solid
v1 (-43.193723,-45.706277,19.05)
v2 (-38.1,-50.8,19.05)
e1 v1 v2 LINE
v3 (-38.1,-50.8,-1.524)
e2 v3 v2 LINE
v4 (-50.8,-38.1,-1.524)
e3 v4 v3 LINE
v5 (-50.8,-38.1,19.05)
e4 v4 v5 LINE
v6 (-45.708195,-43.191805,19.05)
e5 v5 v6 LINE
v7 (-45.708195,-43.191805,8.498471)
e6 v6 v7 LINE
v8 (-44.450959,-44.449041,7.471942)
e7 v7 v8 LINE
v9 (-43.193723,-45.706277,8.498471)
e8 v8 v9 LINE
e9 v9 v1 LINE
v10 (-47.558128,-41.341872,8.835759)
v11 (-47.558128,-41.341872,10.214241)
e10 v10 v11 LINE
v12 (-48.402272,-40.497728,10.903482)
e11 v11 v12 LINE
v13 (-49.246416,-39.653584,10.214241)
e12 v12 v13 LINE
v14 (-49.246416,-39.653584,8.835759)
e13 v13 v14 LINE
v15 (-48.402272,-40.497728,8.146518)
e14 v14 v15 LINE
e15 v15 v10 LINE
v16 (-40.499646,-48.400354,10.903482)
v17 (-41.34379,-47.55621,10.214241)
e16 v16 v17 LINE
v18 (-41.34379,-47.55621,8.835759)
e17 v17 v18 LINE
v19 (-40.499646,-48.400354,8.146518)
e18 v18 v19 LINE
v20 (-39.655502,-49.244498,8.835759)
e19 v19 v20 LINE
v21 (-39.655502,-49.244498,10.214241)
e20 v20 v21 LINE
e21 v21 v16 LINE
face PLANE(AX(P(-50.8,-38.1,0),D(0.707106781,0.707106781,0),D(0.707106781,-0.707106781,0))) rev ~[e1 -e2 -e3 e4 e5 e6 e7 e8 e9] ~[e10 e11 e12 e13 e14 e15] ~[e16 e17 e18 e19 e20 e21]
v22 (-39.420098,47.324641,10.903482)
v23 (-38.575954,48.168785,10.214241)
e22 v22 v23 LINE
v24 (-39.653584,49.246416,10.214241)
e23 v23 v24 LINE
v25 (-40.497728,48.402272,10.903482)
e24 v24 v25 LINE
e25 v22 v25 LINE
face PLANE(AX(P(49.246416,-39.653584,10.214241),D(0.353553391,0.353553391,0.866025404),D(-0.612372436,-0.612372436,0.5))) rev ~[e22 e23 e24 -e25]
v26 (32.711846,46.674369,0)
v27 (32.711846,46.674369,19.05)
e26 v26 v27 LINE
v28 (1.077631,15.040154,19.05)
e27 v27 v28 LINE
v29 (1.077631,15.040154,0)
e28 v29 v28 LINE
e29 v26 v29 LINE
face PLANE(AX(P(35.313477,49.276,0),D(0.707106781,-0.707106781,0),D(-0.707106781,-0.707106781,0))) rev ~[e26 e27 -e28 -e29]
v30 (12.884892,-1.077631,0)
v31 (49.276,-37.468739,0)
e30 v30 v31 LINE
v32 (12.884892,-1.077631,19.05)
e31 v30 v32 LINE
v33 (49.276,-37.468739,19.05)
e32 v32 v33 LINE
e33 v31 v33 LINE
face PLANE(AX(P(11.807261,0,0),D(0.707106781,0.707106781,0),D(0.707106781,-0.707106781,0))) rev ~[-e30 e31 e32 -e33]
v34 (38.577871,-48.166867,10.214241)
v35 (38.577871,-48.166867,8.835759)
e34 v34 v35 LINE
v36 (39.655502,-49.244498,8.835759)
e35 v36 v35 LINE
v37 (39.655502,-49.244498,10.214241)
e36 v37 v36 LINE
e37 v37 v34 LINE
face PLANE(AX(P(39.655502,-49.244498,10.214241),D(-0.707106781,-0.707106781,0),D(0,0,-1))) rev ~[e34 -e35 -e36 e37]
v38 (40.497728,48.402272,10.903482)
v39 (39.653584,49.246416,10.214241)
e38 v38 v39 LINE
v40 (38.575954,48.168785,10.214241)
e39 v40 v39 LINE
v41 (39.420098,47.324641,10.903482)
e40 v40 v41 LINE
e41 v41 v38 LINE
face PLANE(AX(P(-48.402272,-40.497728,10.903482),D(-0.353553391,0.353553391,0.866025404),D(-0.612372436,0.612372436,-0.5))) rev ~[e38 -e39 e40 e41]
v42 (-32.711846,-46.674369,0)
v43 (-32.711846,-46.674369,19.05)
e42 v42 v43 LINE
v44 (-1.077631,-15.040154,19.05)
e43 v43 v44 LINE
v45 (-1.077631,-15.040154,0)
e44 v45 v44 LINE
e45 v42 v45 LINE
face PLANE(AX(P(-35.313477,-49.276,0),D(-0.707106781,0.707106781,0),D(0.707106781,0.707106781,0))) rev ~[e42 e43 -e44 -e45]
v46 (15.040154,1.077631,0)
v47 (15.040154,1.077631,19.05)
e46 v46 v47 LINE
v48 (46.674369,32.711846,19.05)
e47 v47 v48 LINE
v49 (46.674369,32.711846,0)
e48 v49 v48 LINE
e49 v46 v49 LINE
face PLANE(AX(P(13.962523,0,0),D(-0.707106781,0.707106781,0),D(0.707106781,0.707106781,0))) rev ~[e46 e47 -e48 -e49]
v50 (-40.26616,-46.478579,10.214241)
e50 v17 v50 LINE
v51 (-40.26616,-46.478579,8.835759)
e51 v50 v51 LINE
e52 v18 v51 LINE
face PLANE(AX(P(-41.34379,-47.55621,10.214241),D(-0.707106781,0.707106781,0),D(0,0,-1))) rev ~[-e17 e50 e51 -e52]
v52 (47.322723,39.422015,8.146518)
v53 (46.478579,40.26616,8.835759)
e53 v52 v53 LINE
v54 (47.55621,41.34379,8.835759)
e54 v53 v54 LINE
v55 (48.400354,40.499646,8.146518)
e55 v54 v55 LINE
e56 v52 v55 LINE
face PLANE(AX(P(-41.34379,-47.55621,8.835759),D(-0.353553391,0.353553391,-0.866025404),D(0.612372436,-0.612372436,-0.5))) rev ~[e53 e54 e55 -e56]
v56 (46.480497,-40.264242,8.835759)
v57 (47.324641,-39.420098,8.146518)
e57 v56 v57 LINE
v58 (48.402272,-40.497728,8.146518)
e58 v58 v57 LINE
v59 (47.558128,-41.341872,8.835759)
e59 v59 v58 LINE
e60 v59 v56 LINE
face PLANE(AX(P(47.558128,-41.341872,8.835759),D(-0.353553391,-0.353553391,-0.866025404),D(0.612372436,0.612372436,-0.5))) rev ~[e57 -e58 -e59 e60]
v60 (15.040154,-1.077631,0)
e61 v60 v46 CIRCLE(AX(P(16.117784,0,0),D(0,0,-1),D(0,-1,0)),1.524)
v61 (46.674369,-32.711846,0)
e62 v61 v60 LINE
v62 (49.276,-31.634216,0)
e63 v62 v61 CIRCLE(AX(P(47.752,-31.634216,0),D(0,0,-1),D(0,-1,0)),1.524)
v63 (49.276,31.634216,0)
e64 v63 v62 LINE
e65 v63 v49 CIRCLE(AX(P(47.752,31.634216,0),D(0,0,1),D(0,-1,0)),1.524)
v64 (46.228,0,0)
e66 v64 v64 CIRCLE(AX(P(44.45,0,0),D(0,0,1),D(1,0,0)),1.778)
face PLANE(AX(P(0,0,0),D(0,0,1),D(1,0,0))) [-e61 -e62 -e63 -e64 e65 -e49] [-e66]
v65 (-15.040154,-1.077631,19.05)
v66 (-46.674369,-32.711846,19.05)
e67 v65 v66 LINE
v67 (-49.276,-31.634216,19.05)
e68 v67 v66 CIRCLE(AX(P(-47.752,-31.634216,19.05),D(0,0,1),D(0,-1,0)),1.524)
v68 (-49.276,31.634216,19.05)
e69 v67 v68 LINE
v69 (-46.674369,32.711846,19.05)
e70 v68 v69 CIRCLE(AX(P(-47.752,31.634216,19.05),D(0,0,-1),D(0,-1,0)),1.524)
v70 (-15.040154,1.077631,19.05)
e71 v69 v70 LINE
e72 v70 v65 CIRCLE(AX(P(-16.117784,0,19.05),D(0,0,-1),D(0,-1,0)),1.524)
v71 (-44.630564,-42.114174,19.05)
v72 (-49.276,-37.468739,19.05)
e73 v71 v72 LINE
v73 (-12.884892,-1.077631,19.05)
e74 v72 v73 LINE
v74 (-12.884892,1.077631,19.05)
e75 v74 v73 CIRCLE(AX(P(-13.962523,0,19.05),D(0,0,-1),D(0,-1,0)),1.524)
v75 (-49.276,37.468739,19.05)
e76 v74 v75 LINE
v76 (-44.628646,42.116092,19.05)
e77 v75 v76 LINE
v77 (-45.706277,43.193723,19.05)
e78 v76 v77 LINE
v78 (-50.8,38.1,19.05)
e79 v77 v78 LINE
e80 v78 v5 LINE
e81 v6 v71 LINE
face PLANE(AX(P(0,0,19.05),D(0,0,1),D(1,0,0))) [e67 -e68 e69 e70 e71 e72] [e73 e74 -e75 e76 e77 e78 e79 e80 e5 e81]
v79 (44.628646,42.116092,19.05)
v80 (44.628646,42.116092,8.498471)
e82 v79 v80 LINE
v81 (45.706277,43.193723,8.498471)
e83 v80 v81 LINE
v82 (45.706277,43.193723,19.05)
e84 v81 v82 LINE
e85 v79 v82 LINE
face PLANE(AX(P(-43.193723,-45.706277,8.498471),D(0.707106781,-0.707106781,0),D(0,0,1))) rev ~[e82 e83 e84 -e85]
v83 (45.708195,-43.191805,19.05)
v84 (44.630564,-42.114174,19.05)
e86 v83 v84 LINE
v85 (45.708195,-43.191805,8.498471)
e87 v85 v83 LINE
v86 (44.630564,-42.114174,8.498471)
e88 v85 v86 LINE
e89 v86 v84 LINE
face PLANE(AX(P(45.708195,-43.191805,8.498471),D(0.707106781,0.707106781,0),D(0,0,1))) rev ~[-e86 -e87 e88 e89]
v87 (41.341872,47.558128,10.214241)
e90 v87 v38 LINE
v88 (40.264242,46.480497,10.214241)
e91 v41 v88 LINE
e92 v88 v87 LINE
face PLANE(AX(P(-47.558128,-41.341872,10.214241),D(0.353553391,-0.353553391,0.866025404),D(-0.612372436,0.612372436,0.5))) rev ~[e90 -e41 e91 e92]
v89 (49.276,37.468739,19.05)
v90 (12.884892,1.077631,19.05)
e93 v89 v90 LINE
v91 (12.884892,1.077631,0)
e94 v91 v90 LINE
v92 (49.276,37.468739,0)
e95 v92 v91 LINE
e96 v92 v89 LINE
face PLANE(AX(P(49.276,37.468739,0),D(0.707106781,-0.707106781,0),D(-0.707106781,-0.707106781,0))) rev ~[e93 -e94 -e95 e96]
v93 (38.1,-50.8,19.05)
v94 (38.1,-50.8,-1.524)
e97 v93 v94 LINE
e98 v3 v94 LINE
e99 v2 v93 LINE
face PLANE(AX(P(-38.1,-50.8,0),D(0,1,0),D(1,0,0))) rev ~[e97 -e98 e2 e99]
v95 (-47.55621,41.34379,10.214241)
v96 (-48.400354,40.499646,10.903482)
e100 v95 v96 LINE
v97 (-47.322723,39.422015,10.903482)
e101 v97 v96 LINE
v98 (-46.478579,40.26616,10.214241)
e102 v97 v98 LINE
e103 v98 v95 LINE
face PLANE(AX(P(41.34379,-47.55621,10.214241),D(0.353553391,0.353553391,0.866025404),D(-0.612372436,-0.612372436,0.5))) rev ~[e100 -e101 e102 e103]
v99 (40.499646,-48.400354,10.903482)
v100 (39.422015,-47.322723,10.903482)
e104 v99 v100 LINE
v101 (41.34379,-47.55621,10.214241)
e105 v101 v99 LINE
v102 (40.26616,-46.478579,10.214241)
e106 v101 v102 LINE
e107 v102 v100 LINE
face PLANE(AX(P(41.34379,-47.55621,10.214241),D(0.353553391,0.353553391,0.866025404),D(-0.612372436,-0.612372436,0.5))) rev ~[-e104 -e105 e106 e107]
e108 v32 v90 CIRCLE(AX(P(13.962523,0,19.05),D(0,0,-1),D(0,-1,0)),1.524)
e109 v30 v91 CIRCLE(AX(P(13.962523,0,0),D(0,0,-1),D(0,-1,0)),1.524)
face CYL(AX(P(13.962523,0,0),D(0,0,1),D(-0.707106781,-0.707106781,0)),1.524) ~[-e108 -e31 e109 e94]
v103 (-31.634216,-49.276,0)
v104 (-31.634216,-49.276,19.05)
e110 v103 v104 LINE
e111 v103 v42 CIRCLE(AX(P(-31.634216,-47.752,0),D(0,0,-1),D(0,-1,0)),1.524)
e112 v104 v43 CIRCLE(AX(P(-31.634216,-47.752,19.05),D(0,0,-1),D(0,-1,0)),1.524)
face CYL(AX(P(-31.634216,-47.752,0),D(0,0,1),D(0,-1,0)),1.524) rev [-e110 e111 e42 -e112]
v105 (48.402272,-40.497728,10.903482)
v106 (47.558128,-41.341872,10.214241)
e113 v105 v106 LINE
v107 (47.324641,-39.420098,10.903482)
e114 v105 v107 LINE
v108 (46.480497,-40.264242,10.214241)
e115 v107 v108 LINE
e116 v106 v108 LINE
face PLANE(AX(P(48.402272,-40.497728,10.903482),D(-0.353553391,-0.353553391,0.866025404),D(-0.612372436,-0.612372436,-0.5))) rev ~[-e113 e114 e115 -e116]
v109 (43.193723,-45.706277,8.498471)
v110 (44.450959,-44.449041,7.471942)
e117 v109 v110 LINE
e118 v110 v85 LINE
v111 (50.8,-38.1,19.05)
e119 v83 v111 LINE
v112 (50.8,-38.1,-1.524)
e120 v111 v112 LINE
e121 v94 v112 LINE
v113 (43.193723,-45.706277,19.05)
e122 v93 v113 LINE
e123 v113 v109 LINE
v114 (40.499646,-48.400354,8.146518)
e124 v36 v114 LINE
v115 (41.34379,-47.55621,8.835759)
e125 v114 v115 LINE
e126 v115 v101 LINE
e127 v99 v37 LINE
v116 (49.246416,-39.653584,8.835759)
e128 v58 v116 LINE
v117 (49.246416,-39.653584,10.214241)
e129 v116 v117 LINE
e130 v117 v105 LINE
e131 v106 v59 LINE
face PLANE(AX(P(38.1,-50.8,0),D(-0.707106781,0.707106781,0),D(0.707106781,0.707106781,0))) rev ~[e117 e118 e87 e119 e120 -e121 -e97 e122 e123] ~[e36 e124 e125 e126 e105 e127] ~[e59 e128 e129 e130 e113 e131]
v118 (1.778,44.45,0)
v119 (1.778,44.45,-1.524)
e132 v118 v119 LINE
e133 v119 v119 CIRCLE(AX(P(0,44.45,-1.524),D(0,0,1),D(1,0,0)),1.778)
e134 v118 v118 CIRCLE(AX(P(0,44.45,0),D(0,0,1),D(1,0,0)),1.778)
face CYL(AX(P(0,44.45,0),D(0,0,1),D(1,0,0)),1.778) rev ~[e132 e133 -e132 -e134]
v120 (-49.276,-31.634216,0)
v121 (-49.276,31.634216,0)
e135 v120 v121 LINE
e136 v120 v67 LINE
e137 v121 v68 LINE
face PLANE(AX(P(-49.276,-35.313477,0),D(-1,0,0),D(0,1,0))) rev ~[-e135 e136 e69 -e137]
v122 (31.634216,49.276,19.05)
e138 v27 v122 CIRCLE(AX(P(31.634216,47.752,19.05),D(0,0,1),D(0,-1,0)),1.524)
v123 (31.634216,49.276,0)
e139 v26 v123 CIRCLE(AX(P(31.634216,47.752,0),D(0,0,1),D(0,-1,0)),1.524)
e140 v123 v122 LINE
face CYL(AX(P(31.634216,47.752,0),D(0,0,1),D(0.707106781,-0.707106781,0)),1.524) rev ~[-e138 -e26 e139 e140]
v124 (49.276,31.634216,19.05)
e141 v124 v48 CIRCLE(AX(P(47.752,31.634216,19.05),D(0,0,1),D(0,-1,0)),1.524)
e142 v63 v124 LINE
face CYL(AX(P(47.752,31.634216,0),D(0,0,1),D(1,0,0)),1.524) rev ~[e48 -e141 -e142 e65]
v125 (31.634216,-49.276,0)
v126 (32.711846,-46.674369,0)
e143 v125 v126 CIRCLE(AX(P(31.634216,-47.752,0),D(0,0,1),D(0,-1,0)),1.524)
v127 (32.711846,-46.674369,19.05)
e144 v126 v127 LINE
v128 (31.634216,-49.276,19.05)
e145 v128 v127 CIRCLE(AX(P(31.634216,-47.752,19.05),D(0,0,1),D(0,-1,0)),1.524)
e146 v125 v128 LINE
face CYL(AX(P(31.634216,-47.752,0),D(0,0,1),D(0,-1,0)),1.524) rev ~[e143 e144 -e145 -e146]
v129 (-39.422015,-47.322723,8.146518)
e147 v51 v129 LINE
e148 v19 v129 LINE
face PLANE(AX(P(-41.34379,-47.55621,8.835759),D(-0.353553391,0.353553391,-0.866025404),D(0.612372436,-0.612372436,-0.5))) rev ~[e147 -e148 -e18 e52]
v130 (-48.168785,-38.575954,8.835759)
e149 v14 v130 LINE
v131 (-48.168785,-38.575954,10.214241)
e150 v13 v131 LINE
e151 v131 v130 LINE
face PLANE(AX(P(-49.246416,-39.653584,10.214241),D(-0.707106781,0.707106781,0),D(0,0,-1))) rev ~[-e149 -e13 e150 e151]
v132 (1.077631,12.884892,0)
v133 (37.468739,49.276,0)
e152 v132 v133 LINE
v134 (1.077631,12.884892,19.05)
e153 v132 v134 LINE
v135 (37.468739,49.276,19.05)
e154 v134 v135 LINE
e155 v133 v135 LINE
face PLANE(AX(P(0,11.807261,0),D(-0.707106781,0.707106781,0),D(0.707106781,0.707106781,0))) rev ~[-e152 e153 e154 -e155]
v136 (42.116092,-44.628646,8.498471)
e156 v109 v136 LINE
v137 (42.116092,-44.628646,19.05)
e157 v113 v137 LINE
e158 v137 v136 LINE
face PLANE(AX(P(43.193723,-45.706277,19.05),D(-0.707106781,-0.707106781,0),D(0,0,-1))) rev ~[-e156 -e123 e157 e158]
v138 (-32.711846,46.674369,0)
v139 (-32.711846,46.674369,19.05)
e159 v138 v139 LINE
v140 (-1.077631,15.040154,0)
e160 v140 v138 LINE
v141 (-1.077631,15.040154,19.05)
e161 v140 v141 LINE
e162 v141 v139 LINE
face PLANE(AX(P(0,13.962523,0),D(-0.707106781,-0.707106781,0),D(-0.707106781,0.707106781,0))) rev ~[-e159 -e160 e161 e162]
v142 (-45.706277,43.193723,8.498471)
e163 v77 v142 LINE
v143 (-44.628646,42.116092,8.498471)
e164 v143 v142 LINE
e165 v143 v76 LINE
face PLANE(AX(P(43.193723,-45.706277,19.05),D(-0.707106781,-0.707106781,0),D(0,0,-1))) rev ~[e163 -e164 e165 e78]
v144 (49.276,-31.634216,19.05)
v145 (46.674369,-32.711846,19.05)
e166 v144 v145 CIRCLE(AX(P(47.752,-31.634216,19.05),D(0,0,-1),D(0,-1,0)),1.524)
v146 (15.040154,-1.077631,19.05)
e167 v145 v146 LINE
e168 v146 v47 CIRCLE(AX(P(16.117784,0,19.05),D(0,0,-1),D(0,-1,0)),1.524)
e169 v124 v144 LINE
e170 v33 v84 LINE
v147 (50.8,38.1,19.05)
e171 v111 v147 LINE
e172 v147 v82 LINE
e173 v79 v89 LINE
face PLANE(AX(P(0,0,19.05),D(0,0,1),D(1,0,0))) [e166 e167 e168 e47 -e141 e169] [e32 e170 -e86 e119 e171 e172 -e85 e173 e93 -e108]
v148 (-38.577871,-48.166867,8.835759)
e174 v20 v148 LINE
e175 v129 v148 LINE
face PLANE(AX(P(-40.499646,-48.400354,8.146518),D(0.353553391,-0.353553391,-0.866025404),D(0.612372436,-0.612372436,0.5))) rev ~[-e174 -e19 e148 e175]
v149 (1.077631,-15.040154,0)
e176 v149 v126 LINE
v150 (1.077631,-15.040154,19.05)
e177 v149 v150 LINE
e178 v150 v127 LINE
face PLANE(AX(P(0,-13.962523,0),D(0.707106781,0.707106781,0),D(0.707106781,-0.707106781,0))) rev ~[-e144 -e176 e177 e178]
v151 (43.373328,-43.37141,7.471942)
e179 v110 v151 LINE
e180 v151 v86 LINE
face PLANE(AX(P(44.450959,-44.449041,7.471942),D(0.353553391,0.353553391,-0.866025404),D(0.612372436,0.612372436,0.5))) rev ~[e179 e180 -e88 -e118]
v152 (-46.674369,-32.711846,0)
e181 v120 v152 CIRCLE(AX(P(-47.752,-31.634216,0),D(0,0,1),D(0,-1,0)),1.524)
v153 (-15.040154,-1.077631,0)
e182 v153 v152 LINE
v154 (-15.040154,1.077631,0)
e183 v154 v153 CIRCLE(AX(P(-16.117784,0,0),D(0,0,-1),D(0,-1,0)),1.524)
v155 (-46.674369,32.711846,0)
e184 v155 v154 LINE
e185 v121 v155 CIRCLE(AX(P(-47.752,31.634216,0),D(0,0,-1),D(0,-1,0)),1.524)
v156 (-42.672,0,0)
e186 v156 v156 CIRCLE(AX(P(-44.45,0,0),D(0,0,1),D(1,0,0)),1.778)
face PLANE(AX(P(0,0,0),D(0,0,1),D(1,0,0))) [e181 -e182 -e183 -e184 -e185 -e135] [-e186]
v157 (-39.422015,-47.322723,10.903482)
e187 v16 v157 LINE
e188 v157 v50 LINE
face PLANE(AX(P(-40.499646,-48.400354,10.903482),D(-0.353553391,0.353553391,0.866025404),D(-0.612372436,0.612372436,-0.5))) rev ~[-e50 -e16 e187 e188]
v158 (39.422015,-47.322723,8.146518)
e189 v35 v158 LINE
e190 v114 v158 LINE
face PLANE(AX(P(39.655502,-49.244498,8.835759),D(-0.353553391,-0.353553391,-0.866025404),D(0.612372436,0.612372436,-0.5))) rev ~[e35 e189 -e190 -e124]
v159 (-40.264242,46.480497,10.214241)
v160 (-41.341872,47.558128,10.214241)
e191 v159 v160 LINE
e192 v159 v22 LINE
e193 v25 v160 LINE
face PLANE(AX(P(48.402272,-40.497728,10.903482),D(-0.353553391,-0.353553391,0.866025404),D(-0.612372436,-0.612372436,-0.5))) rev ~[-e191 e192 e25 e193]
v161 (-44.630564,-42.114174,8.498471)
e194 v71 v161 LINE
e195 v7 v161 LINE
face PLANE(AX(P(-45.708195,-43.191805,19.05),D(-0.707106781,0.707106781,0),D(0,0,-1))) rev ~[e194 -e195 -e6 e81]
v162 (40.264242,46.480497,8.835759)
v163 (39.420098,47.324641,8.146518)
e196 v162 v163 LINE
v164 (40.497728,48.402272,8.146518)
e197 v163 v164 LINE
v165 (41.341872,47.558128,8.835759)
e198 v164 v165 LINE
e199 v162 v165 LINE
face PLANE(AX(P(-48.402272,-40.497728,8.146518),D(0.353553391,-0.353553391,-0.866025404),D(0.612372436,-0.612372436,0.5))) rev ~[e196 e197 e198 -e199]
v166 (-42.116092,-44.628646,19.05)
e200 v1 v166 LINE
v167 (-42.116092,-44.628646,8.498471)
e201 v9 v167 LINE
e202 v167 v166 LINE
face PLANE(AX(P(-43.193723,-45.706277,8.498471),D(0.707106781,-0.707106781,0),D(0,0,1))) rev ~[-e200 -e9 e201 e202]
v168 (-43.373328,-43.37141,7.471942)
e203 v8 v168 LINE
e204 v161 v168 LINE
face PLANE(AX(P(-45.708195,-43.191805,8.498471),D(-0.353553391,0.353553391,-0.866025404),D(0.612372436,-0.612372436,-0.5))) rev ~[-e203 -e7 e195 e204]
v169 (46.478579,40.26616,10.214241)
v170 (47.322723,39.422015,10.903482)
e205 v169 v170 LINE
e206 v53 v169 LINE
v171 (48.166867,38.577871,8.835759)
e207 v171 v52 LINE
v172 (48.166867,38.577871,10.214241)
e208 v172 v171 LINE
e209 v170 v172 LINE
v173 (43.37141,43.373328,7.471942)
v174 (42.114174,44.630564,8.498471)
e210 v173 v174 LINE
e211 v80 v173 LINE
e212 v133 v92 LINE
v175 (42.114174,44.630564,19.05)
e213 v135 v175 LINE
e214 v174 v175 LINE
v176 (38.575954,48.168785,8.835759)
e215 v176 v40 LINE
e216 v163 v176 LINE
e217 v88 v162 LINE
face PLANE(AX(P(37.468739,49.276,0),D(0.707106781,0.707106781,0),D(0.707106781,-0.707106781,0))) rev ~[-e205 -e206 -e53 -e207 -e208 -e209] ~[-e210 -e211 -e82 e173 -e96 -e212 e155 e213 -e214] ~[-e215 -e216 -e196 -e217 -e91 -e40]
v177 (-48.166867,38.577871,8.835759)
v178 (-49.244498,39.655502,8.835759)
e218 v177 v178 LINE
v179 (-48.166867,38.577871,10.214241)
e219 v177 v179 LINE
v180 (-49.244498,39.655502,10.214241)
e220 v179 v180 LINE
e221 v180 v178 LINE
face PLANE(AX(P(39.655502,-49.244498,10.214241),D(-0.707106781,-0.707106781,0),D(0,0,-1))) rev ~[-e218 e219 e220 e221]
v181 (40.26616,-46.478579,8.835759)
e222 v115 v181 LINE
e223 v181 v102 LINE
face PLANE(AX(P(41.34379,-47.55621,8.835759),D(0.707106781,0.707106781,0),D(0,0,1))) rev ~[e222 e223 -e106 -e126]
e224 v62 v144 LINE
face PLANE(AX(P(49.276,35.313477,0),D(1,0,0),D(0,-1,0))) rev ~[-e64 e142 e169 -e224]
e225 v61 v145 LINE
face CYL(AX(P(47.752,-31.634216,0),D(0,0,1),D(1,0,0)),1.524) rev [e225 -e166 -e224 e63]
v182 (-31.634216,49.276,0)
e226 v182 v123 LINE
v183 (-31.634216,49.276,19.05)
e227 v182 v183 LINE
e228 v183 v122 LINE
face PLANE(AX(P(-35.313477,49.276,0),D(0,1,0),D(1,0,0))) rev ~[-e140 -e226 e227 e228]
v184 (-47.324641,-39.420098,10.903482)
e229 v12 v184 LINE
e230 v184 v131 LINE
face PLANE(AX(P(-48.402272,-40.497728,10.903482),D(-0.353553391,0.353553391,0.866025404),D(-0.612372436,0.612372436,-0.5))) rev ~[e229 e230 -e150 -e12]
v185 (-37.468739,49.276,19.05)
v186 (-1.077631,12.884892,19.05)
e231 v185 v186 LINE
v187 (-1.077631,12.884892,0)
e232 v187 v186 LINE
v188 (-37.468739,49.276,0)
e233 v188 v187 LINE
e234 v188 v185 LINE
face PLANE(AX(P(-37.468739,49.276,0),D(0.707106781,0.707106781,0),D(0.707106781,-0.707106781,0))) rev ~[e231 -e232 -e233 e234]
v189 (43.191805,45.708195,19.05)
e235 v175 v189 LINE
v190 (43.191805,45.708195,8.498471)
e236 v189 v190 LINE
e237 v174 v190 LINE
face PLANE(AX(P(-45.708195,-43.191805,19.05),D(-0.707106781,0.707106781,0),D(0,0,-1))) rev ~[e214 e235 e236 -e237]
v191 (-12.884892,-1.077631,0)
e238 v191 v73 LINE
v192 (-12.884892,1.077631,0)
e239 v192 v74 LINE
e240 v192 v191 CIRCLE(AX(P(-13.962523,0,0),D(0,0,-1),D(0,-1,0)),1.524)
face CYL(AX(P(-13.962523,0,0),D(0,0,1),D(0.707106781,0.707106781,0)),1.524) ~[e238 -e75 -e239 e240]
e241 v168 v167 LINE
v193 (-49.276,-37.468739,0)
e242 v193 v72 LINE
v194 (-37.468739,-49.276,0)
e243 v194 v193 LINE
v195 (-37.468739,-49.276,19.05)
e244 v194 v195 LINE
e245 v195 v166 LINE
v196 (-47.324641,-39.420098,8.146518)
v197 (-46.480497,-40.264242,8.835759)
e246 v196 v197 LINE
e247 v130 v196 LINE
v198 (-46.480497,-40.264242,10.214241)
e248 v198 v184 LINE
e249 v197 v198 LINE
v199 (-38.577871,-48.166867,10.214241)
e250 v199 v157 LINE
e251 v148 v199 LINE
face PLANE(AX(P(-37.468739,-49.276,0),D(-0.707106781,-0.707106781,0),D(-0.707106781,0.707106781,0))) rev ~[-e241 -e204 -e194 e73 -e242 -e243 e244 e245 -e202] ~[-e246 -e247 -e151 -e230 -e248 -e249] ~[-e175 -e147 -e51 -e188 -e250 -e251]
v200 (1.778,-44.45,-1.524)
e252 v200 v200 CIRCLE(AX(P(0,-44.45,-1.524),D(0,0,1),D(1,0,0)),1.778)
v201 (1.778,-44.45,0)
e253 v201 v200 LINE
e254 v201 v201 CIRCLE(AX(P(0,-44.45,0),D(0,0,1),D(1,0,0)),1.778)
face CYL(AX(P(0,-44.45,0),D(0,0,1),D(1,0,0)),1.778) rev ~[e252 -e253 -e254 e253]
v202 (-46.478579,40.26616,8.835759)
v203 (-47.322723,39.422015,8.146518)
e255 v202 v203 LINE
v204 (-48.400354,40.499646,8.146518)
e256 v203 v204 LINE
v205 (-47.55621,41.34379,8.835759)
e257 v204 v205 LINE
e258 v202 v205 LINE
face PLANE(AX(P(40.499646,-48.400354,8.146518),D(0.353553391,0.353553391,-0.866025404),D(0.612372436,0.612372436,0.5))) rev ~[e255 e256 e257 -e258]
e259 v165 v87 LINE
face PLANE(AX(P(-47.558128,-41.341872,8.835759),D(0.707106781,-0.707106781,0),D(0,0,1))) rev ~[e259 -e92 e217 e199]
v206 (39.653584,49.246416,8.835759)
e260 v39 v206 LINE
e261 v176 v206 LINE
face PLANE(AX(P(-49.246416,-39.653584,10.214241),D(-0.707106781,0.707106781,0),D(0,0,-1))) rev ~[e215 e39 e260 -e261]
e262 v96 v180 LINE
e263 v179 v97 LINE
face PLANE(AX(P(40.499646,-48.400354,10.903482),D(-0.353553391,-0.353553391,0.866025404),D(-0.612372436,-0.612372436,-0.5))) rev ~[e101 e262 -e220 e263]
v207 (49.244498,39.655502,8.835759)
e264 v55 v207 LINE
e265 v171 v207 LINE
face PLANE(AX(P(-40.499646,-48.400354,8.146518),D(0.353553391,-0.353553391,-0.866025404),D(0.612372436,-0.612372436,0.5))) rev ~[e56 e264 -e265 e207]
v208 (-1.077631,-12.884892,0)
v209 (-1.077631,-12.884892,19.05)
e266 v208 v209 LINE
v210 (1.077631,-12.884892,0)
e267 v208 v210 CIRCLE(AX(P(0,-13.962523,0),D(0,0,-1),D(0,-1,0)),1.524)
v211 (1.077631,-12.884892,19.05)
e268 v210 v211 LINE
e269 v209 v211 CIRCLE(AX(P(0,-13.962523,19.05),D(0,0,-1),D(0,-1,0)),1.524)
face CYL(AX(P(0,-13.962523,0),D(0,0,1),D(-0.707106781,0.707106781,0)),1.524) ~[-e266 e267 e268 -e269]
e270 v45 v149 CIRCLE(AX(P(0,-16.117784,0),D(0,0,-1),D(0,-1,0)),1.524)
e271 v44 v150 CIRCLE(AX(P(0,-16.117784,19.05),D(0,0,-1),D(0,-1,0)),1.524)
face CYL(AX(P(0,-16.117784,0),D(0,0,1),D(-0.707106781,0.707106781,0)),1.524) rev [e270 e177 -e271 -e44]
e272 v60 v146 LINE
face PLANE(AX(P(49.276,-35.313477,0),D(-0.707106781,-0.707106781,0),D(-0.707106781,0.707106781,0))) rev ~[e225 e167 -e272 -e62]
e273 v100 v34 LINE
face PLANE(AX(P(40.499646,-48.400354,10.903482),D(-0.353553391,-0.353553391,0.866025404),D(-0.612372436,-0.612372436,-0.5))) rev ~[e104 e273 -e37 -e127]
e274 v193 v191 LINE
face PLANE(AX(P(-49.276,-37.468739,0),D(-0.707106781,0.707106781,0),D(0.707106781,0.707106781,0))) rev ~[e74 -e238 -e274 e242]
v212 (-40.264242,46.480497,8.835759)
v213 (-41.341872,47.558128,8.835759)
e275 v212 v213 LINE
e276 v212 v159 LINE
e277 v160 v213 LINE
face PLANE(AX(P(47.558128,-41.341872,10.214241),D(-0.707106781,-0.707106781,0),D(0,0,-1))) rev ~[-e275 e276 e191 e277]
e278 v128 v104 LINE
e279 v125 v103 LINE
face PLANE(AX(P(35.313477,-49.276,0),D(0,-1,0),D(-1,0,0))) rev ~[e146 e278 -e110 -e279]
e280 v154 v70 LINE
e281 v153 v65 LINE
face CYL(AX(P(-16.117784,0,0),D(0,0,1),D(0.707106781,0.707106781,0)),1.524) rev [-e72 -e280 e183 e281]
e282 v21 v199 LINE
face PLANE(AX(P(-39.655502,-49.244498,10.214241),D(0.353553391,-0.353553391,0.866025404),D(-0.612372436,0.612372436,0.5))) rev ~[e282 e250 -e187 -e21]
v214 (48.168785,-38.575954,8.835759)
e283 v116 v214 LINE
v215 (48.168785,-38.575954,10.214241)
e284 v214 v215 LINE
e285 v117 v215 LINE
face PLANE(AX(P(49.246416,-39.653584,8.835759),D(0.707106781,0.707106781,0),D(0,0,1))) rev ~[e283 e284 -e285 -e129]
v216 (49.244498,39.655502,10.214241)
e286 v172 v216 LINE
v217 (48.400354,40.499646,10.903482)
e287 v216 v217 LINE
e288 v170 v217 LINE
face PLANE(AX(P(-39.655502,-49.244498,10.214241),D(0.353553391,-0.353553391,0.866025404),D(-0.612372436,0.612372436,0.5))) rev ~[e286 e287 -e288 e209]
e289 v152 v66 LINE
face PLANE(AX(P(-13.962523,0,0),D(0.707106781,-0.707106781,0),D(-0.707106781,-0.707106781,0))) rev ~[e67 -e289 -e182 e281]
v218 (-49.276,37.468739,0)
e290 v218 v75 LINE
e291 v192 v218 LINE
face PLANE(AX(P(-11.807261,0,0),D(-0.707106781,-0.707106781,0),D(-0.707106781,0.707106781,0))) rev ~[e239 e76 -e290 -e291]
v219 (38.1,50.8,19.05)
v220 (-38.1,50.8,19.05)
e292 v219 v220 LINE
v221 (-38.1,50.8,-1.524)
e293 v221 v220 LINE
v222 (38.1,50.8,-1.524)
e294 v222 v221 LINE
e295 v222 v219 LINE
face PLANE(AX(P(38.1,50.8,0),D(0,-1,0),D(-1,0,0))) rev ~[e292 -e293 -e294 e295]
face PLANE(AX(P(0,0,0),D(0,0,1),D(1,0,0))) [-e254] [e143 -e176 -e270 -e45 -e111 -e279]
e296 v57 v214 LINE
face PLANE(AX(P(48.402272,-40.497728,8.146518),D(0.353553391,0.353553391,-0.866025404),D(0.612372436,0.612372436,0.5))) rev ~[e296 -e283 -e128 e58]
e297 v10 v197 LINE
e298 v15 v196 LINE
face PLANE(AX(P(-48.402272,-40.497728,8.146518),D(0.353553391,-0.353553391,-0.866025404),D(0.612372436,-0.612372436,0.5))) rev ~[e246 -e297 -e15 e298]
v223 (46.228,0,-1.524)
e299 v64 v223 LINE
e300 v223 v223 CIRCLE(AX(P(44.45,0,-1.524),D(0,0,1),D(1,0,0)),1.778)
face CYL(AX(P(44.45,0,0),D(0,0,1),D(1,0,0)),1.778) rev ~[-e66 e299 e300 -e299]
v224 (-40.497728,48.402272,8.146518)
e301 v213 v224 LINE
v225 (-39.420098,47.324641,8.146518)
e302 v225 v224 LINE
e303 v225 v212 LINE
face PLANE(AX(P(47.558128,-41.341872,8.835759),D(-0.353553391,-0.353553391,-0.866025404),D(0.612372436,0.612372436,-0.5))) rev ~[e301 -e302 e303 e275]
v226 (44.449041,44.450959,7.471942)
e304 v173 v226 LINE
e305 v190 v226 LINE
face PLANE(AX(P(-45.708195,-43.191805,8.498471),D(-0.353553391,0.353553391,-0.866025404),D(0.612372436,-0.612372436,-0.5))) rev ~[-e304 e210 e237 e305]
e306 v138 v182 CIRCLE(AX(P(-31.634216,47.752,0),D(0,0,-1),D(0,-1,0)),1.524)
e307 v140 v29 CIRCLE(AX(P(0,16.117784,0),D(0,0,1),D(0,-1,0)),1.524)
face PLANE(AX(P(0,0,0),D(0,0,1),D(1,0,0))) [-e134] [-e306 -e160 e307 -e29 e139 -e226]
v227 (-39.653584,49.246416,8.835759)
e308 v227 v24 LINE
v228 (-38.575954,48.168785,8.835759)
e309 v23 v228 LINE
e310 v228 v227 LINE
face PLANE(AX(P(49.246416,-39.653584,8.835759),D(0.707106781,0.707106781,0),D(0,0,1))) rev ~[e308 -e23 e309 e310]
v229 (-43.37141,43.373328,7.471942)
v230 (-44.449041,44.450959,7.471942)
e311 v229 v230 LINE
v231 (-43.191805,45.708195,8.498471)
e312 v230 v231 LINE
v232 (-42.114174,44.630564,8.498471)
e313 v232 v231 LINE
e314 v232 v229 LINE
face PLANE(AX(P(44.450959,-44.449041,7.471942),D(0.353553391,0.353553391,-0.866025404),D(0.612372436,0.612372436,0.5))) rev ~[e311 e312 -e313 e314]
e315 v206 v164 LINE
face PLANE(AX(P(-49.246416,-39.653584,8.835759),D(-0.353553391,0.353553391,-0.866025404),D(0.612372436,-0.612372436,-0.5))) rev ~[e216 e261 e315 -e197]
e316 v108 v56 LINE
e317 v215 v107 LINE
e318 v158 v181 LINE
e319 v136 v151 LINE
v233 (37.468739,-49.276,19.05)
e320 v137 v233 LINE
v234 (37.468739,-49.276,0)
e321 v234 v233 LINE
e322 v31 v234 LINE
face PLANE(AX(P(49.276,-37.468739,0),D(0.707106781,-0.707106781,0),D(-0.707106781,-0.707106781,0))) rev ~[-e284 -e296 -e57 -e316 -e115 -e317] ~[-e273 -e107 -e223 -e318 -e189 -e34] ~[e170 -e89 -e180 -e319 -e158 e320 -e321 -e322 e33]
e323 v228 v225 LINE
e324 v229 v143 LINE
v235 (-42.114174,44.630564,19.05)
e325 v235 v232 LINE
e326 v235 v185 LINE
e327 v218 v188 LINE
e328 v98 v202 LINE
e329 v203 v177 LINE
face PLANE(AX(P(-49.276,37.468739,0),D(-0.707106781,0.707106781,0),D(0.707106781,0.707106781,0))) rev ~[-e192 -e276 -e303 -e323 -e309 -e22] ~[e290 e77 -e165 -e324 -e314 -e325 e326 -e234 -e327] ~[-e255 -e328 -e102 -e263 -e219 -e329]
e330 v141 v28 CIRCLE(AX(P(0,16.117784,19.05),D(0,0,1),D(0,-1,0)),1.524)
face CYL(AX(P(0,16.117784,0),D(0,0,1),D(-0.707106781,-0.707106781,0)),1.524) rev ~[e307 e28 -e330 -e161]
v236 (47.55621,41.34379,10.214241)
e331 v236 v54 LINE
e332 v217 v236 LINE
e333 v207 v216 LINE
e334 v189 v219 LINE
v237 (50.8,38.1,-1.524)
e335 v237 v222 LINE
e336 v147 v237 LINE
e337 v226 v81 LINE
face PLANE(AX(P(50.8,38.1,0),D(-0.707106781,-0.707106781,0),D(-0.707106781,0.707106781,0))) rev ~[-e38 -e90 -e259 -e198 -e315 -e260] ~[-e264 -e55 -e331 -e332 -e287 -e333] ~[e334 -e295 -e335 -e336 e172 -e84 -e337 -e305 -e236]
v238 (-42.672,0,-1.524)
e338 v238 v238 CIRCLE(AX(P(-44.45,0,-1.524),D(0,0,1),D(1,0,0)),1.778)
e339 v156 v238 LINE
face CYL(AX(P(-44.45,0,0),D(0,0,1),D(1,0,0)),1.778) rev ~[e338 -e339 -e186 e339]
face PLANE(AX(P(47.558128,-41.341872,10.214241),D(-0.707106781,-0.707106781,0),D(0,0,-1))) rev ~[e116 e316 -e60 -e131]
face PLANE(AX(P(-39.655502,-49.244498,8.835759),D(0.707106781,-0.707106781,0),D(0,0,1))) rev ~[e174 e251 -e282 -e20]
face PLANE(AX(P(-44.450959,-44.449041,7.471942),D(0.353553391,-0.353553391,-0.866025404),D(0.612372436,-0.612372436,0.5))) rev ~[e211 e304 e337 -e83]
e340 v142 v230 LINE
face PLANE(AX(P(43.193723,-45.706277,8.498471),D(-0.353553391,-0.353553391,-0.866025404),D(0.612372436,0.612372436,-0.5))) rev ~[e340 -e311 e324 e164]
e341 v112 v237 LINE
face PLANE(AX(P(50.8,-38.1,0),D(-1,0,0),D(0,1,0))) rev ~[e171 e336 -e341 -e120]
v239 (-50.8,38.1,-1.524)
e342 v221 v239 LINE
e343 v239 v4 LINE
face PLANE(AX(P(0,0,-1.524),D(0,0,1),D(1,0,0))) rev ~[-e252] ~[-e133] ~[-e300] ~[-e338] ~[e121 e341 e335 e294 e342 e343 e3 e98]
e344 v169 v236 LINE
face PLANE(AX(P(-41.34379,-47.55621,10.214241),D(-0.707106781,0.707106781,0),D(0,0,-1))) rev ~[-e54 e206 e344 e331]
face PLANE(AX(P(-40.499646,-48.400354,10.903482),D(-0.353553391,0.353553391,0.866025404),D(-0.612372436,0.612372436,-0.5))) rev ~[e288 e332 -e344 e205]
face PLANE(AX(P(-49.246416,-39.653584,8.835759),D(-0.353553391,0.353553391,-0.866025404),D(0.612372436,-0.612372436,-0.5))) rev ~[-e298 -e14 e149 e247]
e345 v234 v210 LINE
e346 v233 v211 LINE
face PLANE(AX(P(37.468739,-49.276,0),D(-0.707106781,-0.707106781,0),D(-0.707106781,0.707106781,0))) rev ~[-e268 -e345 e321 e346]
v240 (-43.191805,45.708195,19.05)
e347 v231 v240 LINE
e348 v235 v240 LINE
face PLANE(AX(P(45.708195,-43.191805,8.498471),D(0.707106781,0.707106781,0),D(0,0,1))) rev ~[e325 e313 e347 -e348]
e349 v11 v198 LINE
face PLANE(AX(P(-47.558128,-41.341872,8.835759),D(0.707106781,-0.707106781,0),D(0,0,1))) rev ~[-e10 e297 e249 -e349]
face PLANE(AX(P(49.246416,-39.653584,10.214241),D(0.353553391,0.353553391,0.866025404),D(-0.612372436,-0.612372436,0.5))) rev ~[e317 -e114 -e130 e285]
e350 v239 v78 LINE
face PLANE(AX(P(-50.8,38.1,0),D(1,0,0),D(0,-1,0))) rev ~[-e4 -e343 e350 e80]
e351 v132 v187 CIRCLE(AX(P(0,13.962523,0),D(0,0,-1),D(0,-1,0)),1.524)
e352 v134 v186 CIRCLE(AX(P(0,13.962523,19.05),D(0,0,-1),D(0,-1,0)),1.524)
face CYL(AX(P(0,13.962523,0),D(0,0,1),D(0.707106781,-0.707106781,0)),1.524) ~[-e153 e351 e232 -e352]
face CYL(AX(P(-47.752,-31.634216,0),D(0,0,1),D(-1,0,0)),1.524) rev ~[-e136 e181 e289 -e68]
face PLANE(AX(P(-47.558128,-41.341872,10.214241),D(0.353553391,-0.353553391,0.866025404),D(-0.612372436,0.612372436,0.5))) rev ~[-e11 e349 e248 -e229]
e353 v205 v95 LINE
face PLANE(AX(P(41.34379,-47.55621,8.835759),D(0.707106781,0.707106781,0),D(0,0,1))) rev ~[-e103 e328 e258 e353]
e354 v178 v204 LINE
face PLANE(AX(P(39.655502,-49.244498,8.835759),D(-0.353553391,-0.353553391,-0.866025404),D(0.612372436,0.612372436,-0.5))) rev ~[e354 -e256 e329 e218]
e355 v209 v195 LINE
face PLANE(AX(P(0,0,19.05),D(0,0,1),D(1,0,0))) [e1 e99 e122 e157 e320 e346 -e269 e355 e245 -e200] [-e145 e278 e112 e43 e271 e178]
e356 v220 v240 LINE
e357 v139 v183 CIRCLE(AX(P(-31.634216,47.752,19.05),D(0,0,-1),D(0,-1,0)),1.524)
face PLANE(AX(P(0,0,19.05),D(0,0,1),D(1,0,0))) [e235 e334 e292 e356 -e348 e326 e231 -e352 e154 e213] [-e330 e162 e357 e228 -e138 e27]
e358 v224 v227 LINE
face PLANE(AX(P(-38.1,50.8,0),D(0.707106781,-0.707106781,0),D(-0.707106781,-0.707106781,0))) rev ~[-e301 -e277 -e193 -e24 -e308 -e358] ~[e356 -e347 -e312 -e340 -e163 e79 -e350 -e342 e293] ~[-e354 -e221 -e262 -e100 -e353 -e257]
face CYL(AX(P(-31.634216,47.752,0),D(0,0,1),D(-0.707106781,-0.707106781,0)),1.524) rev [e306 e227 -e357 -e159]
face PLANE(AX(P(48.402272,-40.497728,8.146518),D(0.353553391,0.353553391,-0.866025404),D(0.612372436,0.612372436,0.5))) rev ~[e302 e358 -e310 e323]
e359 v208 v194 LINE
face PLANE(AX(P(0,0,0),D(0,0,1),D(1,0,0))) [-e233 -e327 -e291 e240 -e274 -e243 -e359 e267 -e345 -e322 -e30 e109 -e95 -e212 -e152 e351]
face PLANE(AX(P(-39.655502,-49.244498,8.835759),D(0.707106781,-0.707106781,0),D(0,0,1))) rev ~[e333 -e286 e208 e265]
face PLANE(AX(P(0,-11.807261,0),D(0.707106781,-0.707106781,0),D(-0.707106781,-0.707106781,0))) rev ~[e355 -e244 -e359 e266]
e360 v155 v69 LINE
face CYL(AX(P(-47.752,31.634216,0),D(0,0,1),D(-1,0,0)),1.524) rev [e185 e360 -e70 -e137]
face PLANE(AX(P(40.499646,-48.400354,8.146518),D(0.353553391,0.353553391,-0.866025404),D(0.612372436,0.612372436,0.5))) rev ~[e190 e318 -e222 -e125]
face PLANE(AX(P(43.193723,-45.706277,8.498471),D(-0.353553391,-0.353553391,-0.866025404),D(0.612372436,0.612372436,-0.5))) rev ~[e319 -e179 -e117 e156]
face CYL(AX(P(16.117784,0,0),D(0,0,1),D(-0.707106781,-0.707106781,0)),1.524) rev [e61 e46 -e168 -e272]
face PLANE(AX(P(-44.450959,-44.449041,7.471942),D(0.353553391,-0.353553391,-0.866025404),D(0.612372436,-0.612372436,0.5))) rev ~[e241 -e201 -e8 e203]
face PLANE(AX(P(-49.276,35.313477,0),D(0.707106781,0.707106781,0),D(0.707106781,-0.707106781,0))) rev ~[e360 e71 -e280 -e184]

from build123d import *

# Parameters (mm, degrees)
F1_DEPTH  = 1.524
F2_DEPTH  = 19.05
F3_R      = 1.524
F4_R      = 1.524
F5_R      = 1.524
F6_R      = 1.524
F9_DEPTH  = 127
F12_DEPTH = 127
F13_R     = 1.778
F14_DEPTH = 1.524


with BuildPart() as f1:
    # F0 (on Top) → F1 (new body)
    with BuildSketch(Plane.XY):
        Polygon((50.8, 38.1), (38.1, 50.8), (-38.1, 50.8), (-50.8, 38.1), (-50.8, -38.1), (-38.1, -50.8), (38.1, -50.8), (50.8, -38.1), align=None)
        Polygon((-49.276, 35.3134770619), (-49.276, 37.4687385309), (-37.4687385309, 49.276), (-35.3134770619, 49.276), (35.3134770619, 49.276), (37.4687385309, 49.276), (49.276, 37.4687385309), (49.276, 35.3134770619), (49.276, -35.3134770619), (49.276, -37.4687385309), (37.4687385309, -49.276), (35.3134770619, -49.276), (-35.3134770619, -49.276), (-37.4687385309, -49.276), (-49.276, -37.4687385309), (-49.276, -35.3134770619), align=None, mode=Mode.SUBTRACT)
        Polygon((-13.9625229381, 0), (-49.276, 35.3134770619), (-49.276, -35.3134770619), align=None)
        Polygon((-11.8072614691, 0), (-49.276, 37.4687385309), (-49.276, 35.3134770619), (-13.9625229381, 0), (-49.276, -35.3134770619), (-49.276, -37.4687385309), align=None)
        Polygon((-37.4687385309, 49.276), (-49.276, 37.4687385309), (-11.8072614691, 0), (-49.276, -37.4687385309), (-37.4687385309, -49.276), (0, -11.8072614691), (37.4687385309, -49.276), (49.276, -37.4687385309), (11.8072614691, 0), (49.276, 37.4687385309), (37.4687385309, 49.276), (0, 11.8072614691), align=None)
        Polygon((-35.3134770619, 49.276), (-37.4687385309, 49.276), (0, 11.8072614691), (37.4687385309, 49.276), (35.3134770619, 49.276), (0, 13.9625229381), align=None)
        Polygon((49.276, 35.3134770619), (49.276, 37.4687385309), (11.8072614691, 0), (49.276, -37.4687385309), (49.276, -35.3134770619), (13.9625229381, 0), align=None)
        Polygon((35.3134770619, 49.276), (-35.3134770619, 49.276), (0, 13.9625229381), align=None)
        Polygon((0, -11.8072614691), (-37.4687385309, -49.276), (-35.3134770619, -49.276), (0, -13.9625229381), (35.3134770619, -49.276), (37.4687385309, -49.276), align=None)
        Polygon((0, -13.9625229381), (-35.3134770619, -49.276), (35.3134770619, -49.276), align=None)
        Polygon((49.276, -35.3134770619), (49.276, 35.3134770619), (13.9625229381, 0), align=None)
    extrude(amount=-F1_DEPTH)

    # F0 (on Top) → F2 (join)
    with BuildSketch(Plane.XY):
        Polygon((50.8, 38.1), (38.1, 50.8), (-38.1, 50.8), (-50.8, 38.1), (-50.8, -38.1), (-38.1, -50.8), (38.1, -50.8), (50.8, -38.1), align=None)
        Polygon((-49.276, 35.3134770619), (-49.276, 37.4687385309), (-37.4687385309, 49.276), (-35.3134770619, 49.276), (35.3134770619, 49.276), (37.4687385309, 49.276), (49.276, 37.4687385309), (49.276, 35.3134770619), (49.276, -35.3134770619), (49.276, -37.4687385309), (37.4687385309, -49.276), (35.3134770619, -49.276), (-35.3134770619, -49.276), (-37.4687385309, -49.276), (-49.276, -37.4687385309), (-49.276, -35.3134770619), align=None, mode=Mode.SUBTRACT)
        Polygon((-11.8072614691, 0), (-49.276, 37.4687385309), (-49.276, 35.3134770619), (-13.9625229381, 0), (-49.276, -35.3134770619), (-49.276, -37.4687385309), align=None)
        Polygon((-35.3134770619, 49.276), (-37.4687385309, 49.276), (0, 11.8072614691), (37.4687385309, 49.276), (35.3134770619, 49.276), (0, 13.9625229381), align=None)
        Polygon((0, -11.8072614691), (-37.4687385309, -49.276), (-35.3134770619, -49.276), (0, -13.9625229381), (35.3134770619, -49.276), (37.4687385309, -49.276), align=None)
        Polygon((49.276, 35.3134770619), (49.276, 37.4687385309), (11.8072614691, 0), (49.276, -37.4687385309), (49.276, -35.3134770619), (13.9625229381, 0), align=None)
    extrude(amount=F2_DEPTH)

    # F3
    f3_edges = [f1.edges().sort_by_distance(p)[0] for p in [
        (-35.313477, 49.276, 9.525),
        (35.313477, 49.276, 9.525),
        (0, 13.962523, 9.525),
        (0, 11.807261, 9.525),
    ]]
    fillet(f3_edges, radius=F3_R)

    # F4
    f4_edges = [f1.edges().sort_by_distance(p)[0] for p in [
        (-13.962523, 0, 9.525),
        (-11.807261, 0, 9.525),
        (-49.276, 35.313477, 9.525),
        (-49.276, -35.313477, 9.525),
    ]]
    fillet(f4_edges, radius=F4_R)

    # F5
    f5_edges = [f1.edges().sort_by_distance(p)[0] for p in [
        (35.313477, -49.276, 9.525),
        (-35.313477, -49.276, 9.525),
        (0, -13.962523, 9.525),
        (0, -11.807261, 9.525),
    ]]
    fillet(f5_edges, radius=F5_R)

    # F6
    f6_edges = [f1.edges().sort_by_distance(p)[0] for p in [
        (49.276, -35.313477, 9.525),
        (49.276, 35.313477, 9.525),
        (13.962523, 0, 9.525),
        (11.807261, 0, 9.525),
    ]]
    fillet(f6_edges, radius=F6_R)

    # F8 (on offset) → F9 (cut)
    with BuildSketch(Plane(origin=(-44.45, -44.45, 0), x_dir=(0.7071067812, -0.7071067812, 0), z_dir=(-0.7071067812, -0.7071067812, 0))):
        Polygon((-4.3955561211, 8.8357592486), (-4.3955561211, 10.2142407514), (-5.5893561211, 10.9034815027), (-6.7831561211, 10.2142407514), (-6.7831561211, 8.8357592486), (-5.5893561211, 8.1465184973), align=None)
        Polygon((1.7766438789, 8.4984712214), (1.7766438789, 10.5515287786), (-0.0013561211, 11.5780575572), (-1.7793561211, 10.5515287786), (-1.7793561211, 8.4984712214), (-0.0013561211, 7.4719424428), align=None)
        Polygon((-0.0013561211, 11.5780575572), (1.7766438789, 10.5515287786), (1.7766438789, 19.05), (-1.7793561211, 19.05), (-1.7793561211, 10.5515287786), align=None)
        Polygon((6.7804438789, 8.8357592486), (6.7804438789, 10.2142407514), (5.5866438789, 10.9034815027), (4.3928438789, 10.2142407514), (4.3928438789, 8.8357592486), (5.5866438789, 8.1465184973), align=None)
    extrude(amount=-F9_DEPTH, mode=Mode.SUBTRACT)

    # F11 (on offset) → F12 (cut)
    with BuildSketch(Plane(origin=(44.45, -44.45, 0), x_dir=(0.7071067812, 0.7071067812, 0), z_dir=(0.7071067812, -0.7071067812, 0))):
        Polygon((-4.3928438789, 8.8357592486), (-4.3928438789, 10.2142407514), (-5.5866438789, 10.9034815027), (-6.7804438789, 10.2142407514), (-6.7804438789, 8.8357592486), (-5.5866438789, 8.1465184973), align=None)
        Polygon((0.0013561211, 11.5780575572), (1.7793561211, 10.5515287786), (1.7793561211, 19.05), (-1.7766438789, 19.05), (-1.7766438789, 10.5515287786), align=None)
        Polygon((1.7793561211, 8.4984712214), (1.7793561211, 10.5515287786), (0.0013561211, 11.5780575572), (-1.7766438789, 10.5515287786), (-1.7766438789, 8.4984712214), (0.0013561211, 7.4719424428), align=None)
        Polygon((6.7831561211, 8.8357592486), (6.7831561211, 10.2142407514), (5.5893561211, 10.9034815027), (4.3955561211, 10.2142407514), (4.3955561211, 8.8357592486), (5.5893561211, 8.1465184973), align=None)
    extrude(amount=-F12_DEPTH, mode=Mode.SUBTRACT)

    # F13 (on Top) → F14 (cut)
    with BuildSketch(Plane.XY):
        with Locations((-44.45, 0)):
            Circle(F13_R)
        with Locations((0, 44.45)):
            Circle(F13_R)
        with Locations((44.45, 0)):
            Circle(F13_R)
        with Locations((0, -44.45)):
            Circle(F13_R)
    extrude(amount=-F14_DEPTH, mode=Mode.SUBTRACT)


solid = f1.part
